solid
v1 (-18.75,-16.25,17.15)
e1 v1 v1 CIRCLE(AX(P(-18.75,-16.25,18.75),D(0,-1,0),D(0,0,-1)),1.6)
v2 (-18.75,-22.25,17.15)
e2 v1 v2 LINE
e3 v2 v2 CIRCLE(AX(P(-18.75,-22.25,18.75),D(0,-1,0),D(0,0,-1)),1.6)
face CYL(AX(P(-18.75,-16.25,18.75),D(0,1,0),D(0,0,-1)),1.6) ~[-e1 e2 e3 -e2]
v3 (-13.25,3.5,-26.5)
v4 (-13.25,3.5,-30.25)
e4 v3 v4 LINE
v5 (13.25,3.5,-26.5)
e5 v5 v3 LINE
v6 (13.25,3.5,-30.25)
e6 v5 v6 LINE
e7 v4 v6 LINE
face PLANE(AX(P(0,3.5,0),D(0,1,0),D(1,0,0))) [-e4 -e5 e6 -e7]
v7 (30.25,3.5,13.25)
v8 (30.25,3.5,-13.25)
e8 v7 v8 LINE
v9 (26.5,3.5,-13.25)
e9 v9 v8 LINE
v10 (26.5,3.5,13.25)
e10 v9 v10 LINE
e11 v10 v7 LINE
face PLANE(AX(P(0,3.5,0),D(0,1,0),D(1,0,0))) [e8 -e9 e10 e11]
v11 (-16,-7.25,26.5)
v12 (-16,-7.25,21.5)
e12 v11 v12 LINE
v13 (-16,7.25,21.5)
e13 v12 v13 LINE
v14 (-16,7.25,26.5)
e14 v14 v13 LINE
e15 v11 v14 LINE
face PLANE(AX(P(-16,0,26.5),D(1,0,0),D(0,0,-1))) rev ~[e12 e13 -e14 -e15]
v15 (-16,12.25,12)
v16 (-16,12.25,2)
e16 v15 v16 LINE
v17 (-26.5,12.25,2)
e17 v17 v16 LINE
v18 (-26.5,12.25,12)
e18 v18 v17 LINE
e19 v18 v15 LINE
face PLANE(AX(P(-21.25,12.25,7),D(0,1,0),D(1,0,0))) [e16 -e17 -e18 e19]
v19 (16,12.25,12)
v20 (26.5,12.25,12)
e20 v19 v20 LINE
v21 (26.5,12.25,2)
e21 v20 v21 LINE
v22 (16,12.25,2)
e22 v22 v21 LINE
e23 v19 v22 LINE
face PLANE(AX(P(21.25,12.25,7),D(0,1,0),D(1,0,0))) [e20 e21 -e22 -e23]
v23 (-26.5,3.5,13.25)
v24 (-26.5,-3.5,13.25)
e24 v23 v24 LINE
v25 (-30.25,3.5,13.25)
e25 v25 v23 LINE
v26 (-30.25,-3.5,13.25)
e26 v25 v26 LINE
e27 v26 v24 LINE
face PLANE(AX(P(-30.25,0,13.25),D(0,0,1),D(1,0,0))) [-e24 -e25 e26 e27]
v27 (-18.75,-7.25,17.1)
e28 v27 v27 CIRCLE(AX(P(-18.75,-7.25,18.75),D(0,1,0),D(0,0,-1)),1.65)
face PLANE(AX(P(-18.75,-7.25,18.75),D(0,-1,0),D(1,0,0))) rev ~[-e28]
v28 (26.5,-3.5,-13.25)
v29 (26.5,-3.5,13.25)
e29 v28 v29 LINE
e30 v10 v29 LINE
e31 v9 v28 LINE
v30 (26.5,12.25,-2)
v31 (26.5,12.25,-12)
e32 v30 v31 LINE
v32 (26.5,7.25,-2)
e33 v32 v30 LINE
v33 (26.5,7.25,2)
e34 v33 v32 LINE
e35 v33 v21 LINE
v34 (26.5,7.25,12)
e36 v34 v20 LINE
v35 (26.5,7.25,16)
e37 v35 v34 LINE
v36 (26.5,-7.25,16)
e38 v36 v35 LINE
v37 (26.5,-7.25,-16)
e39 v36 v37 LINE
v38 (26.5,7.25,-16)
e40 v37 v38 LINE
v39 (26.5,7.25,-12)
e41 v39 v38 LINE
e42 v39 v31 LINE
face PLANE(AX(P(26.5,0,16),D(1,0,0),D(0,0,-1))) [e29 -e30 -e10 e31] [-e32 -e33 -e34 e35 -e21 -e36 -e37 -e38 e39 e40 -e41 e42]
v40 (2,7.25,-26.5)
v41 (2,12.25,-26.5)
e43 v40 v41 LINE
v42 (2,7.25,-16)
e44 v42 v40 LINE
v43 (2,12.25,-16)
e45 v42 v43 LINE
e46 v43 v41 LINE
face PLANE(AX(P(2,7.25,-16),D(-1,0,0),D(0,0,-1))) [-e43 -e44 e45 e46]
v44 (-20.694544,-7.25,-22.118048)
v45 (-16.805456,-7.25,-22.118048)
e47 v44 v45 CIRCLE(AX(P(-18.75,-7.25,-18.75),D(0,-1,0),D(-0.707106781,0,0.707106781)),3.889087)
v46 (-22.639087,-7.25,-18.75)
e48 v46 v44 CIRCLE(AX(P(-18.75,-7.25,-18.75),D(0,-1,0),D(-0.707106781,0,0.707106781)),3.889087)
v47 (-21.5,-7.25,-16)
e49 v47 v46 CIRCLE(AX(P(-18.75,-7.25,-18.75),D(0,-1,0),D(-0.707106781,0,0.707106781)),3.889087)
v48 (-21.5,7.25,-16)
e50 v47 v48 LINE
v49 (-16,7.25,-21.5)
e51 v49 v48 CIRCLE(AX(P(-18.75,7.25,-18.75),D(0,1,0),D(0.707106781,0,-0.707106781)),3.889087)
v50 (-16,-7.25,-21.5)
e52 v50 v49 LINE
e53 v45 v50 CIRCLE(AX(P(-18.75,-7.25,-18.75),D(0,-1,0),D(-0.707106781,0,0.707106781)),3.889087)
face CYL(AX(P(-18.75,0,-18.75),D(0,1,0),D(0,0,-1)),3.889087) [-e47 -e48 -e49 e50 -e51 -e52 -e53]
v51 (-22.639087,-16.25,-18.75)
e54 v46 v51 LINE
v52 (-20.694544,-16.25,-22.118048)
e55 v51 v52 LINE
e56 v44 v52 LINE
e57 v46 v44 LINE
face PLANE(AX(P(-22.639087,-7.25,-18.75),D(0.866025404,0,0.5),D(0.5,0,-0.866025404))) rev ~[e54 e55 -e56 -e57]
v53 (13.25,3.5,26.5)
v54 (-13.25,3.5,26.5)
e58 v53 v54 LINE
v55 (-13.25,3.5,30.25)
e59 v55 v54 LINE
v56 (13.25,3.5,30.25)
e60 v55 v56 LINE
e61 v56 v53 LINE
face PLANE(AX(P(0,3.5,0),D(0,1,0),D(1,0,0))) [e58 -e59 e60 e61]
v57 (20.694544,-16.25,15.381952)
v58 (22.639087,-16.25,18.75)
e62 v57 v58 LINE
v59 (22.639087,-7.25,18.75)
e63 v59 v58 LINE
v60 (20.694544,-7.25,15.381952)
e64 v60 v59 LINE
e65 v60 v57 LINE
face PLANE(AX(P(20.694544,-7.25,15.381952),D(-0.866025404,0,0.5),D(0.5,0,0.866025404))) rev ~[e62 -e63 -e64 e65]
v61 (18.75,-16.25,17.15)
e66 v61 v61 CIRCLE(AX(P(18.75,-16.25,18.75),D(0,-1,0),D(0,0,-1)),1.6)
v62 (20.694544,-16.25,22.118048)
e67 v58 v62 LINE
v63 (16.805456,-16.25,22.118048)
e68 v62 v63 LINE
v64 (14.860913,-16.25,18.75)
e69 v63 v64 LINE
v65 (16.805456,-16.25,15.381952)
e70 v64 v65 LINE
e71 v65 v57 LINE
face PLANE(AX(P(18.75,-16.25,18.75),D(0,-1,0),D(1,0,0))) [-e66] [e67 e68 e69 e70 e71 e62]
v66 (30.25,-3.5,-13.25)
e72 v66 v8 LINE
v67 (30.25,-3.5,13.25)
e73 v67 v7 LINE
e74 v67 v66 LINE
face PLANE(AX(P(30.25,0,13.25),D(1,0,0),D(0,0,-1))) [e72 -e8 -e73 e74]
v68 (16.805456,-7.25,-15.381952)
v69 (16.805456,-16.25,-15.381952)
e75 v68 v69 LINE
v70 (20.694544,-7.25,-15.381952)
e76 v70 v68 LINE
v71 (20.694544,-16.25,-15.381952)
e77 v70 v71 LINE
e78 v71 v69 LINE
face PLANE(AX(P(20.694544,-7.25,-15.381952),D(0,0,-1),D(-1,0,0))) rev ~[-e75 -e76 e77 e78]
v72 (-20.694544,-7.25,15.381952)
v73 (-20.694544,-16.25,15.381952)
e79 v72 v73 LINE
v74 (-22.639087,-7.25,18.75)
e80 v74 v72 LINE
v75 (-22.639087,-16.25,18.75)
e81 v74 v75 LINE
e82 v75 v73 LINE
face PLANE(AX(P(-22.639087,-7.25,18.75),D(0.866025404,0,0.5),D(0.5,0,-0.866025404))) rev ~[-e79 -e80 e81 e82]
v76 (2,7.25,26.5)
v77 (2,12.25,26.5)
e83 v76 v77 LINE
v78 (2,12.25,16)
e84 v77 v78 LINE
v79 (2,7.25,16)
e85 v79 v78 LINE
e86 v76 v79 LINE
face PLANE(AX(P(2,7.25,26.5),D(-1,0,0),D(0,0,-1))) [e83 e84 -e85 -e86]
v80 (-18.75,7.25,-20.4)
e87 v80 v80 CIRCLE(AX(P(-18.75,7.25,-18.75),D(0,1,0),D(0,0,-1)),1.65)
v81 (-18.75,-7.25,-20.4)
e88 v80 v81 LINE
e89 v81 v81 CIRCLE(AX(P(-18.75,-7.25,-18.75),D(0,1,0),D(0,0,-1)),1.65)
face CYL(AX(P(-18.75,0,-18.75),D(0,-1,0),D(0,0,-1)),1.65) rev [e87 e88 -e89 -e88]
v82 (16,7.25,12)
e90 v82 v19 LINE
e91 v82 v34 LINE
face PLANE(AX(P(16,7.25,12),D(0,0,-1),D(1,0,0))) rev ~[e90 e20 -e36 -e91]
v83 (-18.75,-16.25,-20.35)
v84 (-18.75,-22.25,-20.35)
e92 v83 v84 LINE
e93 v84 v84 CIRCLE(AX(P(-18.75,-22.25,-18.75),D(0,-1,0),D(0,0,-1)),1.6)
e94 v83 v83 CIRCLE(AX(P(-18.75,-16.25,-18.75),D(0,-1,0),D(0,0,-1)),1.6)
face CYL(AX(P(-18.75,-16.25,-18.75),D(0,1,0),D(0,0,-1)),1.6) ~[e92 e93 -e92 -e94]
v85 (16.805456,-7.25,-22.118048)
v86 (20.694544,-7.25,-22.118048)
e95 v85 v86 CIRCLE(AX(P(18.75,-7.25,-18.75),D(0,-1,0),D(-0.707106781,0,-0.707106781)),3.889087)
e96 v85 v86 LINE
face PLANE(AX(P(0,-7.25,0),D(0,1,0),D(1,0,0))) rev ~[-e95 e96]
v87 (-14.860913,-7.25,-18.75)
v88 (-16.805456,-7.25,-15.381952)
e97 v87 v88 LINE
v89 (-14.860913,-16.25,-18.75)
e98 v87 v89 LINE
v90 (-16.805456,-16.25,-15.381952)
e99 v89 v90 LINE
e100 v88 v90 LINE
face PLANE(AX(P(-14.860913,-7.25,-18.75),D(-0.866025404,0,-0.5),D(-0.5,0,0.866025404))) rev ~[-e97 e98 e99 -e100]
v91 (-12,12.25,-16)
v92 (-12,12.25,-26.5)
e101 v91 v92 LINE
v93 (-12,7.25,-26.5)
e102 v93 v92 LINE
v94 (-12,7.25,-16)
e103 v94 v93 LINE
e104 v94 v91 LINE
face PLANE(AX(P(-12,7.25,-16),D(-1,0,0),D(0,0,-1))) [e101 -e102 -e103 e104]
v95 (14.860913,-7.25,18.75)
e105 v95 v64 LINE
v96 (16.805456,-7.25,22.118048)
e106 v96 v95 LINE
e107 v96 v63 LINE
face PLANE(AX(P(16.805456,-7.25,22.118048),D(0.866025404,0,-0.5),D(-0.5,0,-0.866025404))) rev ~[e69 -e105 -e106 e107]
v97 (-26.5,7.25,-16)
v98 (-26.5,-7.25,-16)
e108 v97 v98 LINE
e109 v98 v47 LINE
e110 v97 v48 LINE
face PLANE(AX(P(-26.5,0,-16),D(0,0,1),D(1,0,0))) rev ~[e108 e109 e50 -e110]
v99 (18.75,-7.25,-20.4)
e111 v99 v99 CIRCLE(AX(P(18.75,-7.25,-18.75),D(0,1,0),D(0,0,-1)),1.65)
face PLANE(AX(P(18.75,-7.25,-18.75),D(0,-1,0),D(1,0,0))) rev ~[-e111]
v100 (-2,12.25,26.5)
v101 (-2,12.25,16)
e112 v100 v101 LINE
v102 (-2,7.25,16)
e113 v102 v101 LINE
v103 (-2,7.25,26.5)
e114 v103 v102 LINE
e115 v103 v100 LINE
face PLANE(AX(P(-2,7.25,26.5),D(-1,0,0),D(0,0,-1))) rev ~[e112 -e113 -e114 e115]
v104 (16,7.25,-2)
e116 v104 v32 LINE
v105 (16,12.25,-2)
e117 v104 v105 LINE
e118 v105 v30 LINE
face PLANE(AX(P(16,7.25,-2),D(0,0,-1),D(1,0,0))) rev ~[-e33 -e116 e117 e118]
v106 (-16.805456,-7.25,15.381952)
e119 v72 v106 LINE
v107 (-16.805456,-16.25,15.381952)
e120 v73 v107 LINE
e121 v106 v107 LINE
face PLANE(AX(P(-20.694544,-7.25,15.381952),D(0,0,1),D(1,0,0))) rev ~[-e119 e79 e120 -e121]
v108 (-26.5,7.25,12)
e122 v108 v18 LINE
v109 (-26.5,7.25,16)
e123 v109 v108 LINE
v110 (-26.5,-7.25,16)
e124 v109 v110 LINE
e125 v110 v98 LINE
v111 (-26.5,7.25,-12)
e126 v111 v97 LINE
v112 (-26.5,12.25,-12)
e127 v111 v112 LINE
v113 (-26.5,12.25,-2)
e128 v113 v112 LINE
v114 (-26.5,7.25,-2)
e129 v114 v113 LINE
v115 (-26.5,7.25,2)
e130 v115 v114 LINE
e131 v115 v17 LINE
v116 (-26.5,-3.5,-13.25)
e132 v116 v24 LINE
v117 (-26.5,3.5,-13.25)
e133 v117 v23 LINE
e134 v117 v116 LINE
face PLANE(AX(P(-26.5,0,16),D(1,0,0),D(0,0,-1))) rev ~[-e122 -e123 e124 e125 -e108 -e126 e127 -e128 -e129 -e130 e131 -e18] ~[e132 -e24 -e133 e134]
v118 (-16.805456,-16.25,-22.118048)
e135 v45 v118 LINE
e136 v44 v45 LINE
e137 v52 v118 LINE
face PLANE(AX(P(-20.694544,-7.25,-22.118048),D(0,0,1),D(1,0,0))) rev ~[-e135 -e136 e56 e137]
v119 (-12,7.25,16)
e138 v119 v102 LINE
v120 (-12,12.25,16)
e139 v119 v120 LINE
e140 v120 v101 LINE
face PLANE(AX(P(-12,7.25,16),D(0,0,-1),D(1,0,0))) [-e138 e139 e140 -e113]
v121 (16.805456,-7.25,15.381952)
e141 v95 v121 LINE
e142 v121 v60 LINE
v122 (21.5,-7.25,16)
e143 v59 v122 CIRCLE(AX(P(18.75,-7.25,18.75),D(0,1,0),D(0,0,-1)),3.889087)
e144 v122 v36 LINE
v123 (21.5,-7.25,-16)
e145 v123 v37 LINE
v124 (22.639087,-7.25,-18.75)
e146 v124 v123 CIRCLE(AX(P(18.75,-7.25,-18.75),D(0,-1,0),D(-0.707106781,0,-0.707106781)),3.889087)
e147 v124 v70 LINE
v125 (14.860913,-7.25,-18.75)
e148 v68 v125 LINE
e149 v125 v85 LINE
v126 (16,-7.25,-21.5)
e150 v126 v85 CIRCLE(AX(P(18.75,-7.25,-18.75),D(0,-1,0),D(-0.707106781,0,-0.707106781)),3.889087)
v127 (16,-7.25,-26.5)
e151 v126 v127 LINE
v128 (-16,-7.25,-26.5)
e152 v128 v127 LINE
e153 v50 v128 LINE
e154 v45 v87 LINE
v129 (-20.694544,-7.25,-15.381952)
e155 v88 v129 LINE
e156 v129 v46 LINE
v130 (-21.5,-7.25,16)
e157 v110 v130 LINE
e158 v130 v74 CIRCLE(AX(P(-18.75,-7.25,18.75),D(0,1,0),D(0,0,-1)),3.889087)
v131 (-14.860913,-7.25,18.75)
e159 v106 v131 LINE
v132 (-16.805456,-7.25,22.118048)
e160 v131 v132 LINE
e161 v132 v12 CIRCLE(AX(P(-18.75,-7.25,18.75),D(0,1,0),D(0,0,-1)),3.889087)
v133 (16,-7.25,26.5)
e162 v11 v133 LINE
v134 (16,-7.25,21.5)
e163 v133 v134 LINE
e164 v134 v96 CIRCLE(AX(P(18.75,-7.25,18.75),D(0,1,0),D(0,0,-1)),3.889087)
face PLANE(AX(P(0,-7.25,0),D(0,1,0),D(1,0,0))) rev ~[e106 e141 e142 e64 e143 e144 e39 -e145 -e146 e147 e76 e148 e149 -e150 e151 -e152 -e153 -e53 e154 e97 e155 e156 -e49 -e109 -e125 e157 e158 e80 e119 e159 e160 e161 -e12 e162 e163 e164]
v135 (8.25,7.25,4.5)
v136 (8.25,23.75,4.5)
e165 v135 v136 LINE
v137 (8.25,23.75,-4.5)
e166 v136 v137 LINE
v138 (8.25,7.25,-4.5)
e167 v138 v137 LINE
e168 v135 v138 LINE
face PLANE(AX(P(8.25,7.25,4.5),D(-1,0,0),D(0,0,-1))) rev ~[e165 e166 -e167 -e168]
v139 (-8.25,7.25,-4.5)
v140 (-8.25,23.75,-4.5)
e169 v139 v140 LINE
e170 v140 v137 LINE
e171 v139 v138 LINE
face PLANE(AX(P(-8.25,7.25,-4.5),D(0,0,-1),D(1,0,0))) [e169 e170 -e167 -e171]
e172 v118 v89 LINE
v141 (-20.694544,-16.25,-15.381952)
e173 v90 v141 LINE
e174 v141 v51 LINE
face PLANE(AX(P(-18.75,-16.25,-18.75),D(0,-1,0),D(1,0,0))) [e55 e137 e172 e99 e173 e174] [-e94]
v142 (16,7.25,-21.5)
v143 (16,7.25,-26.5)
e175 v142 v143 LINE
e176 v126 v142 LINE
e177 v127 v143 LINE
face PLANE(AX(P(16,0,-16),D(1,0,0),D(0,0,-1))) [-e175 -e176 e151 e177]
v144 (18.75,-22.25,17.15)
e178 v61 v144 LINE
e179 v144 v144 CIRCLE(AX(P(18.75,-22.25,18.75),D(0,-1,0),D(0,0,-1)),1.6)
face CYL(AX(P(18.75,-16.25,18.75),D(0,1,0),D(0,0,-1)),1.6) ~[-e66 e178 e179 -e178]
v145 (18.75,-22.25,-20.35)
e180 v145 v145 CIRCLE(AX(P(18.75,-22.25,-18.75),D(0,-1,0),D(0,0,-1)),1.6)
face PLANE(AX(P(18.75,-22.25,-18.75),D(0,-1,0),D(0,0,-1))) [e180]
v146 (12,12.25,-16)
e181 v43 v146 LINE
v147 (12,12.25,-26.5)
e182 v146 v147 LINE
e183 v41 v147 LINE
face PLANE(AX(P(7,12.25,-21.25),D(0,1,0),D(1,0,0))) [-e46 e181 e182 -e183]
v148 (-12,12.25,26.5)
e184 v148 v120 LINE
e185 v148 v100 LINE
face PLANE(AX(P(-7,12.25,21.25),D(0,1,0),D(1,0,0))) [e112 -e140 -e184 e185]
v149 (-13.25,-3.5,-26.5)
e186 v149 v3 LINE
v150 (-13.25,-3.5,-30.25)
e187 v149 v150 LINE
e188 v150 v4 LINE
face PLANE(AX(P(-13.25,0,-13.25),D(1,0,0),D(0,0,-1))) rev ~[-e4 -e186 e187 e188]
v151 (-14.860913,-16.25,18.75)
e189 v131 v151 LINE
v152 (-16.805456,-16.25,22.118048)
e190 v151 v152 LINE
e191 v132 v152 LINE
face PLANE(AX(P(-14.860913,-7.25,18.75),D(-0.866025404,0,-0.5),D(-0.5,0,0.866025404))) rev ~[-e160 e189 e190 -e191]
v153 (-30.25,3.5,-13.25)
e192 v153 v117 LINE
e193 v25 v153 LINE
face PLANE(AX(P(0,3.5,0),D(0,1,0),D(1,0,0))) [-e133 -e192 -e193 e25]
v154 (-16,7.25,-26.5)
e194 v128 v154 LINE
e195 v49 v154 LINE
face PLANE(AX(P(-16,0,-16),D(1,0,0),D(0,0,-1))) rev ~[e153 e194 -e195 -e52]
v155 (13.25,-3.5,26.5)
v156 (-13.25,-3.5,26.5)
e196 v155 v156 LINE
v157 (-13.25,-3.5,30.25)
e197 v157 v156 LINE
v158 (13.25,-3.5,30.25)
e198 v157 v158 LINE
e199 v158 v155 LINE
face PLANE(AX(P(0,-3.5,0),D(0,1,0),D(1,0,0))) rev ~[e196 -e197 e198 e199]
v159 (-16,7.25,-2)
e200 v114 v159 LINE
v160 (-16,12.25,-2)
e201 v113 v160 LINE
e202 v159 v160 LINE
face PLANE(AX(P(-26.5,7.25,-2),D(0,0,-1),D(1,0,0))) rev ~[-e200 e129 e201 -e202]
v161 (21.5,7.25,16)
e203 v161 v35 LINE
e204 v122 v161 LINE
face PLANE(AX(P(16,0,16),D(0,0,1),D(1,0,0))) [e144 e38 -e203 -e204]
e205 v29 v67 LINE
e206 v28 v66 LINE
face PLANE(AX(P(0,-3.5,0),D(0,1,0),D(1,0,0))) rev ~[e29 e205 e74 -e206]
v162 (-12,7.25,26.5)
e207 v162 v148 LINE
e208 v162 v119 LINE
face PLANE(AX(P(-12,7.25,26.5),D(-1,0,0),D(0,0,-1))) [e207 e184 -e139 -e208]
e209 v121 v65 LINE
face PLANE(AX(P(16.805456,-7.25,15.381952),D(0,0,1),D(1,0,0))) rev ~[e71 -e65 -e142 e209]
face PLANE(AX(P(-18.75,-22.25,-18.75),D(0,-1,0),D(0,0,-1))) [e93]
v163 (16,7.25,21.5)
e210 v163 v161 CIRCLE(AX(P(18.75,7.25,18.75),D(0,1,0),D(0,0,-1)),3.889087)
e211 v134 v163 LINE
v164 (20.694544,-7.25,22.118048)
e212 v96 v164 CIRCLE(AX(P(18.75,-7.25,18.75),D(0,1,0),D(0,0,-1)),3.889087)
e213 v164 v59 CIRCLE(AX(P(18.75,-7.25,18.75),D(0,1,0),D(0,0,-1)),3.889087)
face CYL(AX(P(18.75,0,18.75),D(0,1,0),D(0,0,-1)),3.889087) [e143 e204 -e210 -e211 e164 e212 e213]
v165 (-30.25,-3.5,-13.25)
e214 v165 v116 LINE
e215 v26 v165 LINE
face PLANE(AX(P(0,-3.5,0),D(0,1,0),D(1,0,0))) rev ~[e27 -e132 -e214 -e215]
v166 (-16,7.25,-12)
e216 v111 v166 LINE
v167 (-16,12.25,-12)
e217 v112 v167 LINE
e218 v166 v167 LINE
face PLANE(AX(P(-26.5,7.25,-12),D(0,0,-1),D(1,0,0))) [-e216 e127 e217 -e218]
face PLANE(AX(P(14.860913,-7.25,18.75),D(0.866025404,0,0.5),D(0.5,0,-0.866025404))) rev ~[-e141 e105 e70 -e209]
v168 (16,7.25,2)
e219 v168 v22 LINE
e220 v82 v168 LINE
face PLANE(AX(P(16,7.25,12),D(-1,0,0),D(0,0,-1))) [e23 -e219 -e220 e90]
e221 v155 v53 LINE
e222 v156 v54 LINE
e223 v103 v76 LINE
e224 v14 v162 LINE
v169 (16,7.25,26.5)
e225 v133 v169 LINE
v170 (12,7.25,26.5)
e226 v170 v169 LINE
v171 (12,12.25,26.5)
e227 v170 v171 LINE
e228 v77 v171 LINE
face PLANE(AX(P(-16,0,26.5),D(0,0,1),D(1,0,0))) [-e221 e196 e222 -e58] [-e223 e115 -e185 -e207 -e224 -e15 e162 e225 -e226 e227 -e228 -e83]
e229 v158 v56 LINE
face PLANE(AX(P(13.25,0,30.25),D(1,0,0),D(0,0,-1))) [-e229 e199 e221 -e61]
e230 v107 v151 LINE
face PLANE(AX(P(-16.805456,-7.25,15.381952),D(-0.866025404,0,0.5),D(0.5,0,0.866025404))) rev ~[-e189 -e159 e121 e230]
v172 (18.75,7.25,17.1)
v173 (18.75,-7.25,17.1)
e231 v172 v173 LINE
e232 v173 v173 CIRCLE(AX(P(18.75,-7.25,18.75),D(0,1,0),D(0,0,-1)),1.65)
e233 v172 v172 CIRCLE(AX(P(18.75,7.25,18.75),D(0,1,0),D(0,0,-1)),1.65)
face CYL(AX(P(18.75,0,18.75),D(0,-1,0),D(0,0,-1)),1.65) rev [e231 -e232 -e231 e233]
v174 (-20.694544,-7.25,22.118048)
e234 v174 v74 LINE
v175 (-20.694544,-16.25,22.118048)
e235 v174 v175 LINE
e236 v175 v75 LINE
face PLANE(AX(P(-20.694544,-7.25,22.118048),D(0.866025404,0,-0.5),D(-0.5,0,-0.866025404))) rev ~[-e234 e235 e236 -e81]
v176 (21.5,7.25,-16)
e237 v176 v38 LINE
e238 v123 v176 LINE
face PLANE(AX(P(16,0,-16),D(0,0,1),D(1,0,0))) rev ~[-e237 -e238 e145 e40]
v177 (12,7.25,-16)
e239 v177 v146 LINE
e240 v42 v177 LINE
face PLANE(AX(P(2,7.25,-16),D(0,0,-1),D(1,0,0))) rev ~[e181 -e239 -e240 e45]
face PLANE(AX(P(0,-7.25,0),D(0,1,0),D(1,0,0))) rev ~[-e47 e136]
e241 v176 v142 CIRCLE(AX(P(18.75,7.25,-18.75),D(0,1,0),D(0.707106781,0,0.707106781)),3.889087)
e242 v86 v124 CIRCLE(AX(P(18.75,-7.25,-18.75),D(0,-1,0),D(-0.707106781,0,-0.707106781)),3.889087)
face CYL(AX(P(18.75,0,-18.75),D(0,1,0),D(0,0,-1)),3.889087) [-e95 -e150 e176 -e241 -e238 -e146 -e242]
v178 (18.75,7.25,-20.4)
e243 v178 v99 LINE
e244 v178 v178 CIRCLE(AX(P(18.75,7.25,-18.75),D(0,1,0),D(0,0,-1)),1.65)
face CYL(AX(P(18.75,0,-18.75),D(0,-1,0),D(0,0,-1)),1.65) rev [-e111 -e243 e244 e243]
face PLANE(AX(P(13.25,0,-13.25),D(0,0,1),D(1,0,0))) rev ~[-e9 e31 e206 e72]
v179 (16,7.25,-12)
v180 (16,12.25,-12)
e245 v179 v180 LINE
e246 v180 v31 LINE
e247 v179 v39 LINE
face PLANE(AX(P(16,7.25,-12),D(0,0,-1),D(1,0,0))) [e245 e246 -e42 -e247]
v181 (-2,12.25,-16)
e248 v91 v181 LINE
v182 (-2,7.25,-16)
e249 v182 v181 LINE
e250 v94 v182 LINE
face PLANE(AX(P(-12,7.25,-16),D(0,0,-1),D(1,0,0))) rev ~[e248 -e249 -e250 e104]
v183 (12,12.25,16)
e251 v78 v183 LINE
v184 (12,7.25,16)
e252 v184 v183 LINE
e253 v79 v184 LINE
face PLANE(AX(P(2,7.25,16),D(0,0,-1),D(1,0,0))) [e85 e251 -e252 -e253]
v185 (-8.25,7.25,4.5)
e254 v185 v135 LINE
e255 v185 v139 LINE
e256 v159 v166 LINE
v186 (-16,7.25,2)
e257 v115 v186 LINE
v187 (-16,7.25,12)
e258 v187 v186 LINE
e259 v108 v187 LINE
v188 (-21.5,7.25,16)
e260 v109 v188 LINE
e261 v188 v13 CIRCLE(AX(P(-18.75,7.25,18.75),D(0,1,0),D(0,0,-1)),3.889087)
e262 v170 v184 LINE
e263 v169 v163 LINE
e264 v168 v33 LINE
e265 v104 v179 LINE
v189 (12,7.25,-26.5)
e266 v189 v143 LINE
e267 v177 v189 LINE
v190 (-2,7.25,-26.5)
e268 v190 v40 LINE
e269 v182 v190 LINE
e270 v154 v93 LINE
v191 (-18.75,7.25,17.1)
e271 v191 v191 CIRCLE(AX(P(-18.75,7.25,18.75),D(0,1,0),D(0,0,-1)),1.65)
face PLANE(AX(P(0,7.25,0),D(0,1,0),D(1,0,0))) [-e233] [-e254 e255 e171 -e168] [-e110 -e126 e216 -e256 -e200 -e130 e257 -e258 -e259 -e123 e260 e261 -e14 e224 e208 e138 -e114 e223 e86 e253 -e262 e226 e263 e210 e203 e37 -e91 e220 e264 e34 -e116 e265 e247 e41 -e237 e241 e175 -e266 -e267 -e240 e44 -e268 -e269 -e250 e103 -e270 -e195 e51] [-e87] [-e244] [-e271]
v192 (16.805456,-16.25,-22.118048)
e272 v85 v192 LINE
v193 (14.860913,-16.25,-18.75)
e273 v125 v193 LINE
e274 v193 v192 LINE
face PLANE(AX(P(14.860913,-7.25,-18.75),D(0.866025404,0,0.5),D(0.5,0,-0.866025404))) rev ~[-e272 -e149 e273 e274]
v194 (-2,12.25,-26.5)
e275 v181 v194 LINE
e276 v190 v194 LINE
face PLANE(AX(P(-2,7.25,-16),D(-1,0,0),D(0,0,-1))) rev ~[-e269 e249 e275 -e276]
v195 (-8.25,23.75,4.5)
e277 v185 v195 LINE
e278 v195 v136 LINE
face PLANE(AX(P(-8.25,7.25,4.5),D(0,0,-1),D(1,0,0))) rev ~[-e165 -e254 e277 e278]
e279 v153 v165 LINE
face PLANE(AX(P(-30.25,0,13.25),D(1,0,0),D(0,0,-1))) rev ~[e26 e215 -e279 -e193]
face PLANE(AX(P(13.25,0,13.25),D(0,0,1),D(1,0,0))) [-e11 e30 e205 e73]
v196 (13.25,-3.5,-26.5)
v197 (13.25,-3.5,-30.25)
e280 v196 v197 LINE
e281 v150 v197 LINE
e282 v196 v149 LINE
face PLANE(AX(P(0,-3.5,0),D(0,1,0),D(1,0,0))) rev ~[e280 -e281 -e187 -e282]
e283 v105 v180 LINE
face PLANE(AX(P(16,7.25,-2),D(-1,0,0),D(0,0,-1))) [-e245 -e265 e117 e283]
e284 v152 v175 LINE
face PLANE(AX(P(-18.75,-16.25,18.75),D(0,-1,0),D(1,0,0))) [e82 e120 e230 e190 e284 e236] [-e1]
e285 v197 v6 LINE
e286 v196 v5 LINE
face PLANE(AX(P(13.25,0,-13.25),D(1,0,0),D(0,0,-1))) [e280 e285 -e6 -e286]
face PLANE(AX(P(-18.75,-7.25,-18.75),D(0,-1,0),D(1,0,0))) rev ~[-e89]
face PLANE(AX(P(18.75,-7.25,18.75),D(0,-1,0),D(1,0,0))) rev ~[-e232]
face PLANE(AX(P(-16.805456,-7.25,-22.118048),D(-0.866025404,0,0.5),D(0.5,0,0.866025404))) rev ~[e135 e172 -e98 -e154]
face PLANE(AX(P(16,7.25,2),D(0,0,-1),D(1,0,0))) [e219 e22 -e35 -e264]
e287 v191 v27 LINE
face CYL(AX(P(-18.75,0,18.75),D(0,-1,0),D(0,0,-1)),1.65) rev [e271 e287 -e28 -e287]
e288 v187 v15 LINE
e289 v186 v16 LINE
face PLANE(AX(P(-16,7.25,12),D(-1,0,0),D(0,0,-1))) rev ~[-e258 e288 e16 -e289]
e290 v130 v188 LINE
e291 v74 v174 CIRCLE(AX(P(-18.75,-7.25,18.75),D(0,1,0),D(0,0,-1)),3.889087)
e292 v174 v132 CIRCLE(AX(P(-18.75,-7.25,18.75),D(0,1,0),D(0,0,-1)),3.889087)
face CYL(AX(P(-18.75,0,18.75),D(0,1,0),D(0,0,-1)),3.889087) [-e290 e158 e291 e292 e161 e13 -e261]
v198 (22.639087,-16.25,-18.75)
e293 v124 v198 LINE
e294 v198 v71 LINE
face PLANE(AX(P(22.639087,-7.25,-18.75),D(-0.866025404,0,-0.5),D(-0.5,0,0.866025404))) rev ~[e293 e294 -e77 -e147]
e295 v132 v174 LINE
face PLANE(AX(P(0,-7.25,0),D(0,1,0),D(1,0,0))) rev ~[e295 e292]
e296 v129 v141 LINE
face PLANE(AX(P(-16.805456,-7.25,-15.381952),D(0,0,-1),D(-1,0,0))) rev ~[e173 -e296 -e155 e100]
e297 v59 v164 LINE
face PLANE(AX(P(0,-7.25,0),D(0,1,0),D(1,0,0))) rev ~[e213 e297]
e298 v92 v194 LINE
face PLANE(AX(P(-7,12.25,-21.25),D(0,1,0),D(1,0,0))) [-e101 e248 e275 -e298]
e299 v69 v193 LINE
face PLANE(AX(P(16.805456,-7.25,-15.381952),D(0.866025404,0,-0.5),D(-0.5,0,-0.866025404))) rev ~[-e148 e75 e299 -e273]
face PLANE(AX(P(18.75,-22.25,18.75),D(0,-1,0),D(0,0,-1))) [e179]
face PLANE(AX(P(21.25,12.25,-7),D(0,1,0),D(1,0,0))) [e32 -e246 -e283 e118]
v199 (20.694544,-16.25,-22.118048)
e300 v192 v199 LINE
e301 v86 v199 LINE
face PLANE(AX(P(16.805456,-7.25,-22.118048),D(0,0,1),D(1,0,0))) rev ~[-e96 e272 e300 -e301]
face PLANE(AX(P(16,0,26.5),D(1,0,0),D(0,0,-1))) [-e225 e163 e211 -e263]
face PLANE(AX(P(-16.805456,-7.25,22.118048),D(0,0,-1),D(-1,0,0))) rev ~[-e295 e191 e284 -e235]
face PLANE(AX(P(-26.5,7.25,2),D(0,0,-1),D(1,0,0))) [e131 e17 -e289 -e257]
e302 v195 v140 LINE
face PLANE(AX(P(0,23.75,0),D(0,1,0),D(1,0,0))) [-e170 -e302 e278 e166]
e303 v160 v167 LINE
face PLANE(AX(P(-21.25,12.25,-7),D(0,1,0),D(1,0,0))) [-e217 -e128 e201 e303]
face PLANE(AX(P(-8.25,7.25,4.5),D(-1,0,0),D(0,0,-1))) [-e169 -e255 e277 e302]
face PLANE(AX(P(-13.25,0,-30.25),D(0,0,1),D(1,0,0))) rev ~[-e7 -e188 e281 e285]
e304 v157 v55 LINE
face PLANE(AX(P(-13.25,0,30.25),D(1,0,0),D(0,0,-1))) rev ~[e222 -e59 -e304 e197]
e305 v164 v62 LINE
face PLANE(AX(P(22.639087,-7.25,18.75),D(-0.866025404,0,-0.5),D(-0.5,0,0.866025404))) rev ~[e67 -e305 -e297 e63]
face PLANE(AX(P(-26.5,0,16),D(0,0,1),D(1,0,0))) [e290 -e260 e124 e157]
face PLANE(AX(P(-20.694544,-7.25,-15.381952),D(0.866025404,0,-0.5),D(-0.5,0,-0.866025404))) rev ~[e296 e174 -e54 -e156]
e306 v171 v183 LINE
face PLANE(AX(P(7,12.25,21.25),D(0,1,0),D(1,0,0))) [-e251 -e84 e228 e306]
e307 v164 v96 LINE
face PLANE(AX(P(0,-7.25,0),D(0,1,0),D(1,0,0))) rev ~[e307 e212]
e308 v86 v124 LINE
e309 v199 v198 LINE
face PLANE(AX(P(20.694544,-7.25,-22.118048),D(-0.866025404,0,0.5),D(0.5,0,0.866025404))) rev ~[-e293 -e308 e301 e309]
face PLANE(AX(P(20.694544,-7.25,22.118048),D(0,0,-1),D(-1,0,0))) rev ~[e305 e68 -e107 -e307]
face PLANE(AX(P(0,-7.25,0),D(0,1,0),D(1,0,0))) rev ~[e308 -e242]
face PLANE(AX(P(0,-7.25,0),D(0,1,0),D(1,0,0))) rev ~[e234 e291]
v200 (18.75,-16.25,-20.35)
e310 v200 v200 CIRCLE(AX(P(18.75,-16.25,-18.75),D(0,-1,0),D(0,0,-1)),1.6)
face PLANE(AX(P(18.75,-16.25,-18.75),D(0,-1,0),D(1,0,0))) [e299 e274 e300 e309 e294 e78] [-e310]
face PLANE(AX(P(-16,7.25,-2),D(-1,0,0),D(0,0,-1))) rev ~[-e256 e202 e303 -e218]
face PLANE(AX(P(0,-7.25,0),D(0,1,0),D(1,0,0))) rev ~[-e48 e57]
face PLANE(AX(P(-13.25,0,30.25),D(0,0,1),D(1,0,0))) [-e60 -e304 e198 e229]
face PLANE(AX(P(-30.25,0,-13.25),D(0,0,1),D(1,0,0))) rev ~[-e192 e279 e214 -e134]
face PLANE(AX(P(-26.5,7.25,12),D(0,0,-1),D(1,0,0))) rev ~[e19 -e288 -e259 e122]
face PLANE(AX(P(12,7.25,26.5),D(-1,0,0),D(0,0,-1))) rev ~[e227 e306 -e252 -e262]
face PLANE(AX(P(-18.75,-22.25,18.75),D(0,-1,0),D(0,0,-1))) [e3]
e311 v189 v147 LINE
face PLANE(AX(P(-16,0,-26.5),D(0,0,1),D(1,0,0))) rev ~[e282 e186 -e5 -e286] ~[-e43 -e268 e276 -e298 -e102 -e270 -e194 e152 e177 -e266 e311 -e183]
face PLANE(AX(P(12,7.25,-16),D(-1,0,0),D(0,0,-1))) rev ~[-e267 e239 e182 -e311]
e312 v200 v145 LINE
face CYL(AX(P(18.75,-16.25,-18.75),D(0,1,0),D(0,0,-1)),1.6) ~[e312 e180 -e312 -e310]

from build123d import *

# Parameters (mm, degrees)
SKETCH_1_R        = 3.889087297
SKETCH_1_R_2      = 1.65
EXTRUDE_2_DEPTH   = 7.25
EXTRUDE_2_2_DEPTH = 7.25
EXTRUDE_2_3_DEPTH = 7.25
EXTRUDE_2_4_DEPTH = 7.25
SKETCH_2_W        = 32
SKETCH_2_H        = 53
SKETCH_2_W_2      = 53
SKETCH_2_H_2      = 32
EXTRUDE_3_DEPTH   = 7.25
SKETCH_3_W        = 26.5
SKETCH_3_H        = 60.5
SKETCH_3_W_2      = 60.5
SKETCH_3_H_2      = 26.5
EXTRUDE_4_DEPTH   = 3.5
SKETCH_4_W        = 16.5
SKETCH_4_H        = 9
EXTRUDE_5_DEPTH   = 16.5
SKETCH_5_W        = 10.5
SKETCH_5_H        = 10
SKETCH_5_W_2      = 10
SKETCH_5_H_2      = 10.5
EXTRUDE_6_DEPTH   = 5
EXTRUDE_7_DEPTH   = 9
SKETCH_7_R        = 1.6
EXTRUDE_8_DEPTH   = 6


with BuildPart() as part:
    # 草图1 → 凸台-拉伸2 (new, symmetric)
    with BuildSketch(Plane(origin=(0, 0, 0), x_dir=(1, 0, 0), z_dir=(0, 1, 0))):
        with Locations(Location((-18.75, 18.75, 0), (0, 0, 90))):
            Circle(SKETCH_1_R)
        with Locations(Location((-18.75, 18.75, 0), (0, 0, 90))):
            Circle(SKETCH_1_R_2, mode=Mode.SUBTRACT)
    extrude(amount=EXTRUDE_2_DEPTH, both=True)



with BuildPart() as body_2:
    # 草图1 → Extrude 2 2 (new, symmetric)
    with BuildSketch(Plane(origin=(0, 0, 0), x_dir=(1, 0, 0), z_dir=(0, 1, 0))):
        with Locations(Location((18.75, 18.75, 0), (0, 0, 90))):
            Circle(SKETCH_1_R)
        with Locations(Location((18.75, 18.75, 0), (0, 0, 90))):
            Circle(SKETCH_1_R_2, mode=Mode.SUBTRACT)
    extrude(amount=EXTRUDE_2_2_DEPTH, both=True)


with BuildPart() as body_3:
    # 草图1 → Extrude 2 3 (new, symmetric)
    with BuildSketch(Plane(origin=(0, 0, 0), x_dir=(1, 0, 0), z_dir=(0, 1, 0))):
        with Locations(Location((18.75, -18.75, 0), (0, 0, 90))):
            Circle(SKETCH_1_R)
        with Locations(Location((18.75, -18.75, 0), (0, 0, 90))):
            Circle(SKETCH_1_R_2, mode=Mode.SUBTRACT)
    extrude(amount=EXTRUDE_2_3_DEPTH, both=True)


with BuildPart() as body_4:
    # 草图1 → Extrude 2 4 (new, symmetric)
    with BuildSketch(Plane(origin=(0, 0, 0), x_dir=(1, 0, 0), z_dir=(0, 1, 0))):
        with Locations(Location((-18.75, -18.75, 0), (0, 0, 90))):
            Circle(SKETCH_1_R)
        with Locations(Location((-18.75, -18.75, 0), (0, 0, 90))):
            Circle(SKETCH_1_R_2, mode=Mode.SUBTRACT)
    extrude(amount=EXTRUDE_2_4_DEPTH, both=True)


with BuildPart() as part_1:
    add(part.part)

    add(body_2.part)  # 凸台-拉伸3 merges body 2

    add(body_3.part)  # 凸台-拉伸3 merges body 3

    add(body_4.part)  # 凸台-拉伸3 merges body 4
    # 草图2 → 凸台-拉伸3 (add, symmetric)
    with BuildSketch(Plane(origin=(0, 0, 0), x_dir=(1, 0, 0), z_dir=(0, 1, 0))):
        Rectangle(SKETCH_2_W, SKETCH_2_H)
        Rectangle(SKETCH_2_W_2, SKETCH_2_H_2)
    extrude(amount=EXTRUDE_3_DEPTH, both=True)

    # 草图3 → 凸台-拉伸4 (add, symmetric)
    with BuildSketch(Plane(origin=(0, 0, 0), x_dir=(1, 0, 0), z_dir=(0, 1, 0))):
        Rectangle(SKETCH_3_W, SKETCH_3_H)
        Rectangle(SKETCH_3_W_2, SKETCH_3_H_2)
    extrude(amount=EXTRUDE_4_DEPTH, both=True)

    # 草图4 → 凸台-拉伸5 (add)
    with BuildSketch(Plane(origin=(0, 7.25, 0), x_dir=(1, 0, 0), z_dir=(0, 1, 0))):
        Rectangle(SKETCH_4_W, SKETCH_4_H)
    extrude(amount=EXTRUDE_5_DEPTH)

    # 草图5 → 凸台-拉伸6 (add)
    with BuildSketch(Plane(origin=(0, 7.25, 0), x_dir=(1, 0, 0), z_dir=(0, 1, 0))):
        with Locations((-21.25, 7)):
            Rectangle(SKETCH_5_W, SKETCH_5_H)
        with Locations((-21.25, -7)):
            Rectangle(SKETCH_5_W, SKETCH_5_H)
        with Locations((7, 21.25)):
            Rectangle(SKETCH_5_W_2, SKETCH_5_H_2)
        with Locations((-7, 21.25)):
            Rectangle(SKETCH_5_W_2, SKETCH_5_H_2)
        with Locations((21.25, -7)):
            Rectangle(SKETCH_5_W, SKETCH_5_H)
        with Locations((21.25, 7)):
            Rectangle(SKETCH_5_W, SKETCH_5_H)
        with Locations((-7, -21.25)):
            Rectangle(SKETCH_5_W_2, SKETCH_5_H_2)
        with Locations((7, -21.25)):
            Rectangle(SKETCH_5_W_2, SKETCH_5_H_2)
    extrude(amount=EXTRUDE_6_DEPTH)

    # 草图6 → 凸台-拉伸7 (add)
    with BuildSketch(Plane.XZ.offset(7.25)):
        Polygon((-14.860912703, 18.75), (-16.805456352, 22.118048396), (-20.694543648, 22.118048396), (-22.639087297, 18.75), (-20.694543648, 15.381951604), (-16.805456352, 15.381951604), align=None)
        Polygon((22.639087297, 18.75), (20.694543648, 22.118048396), (16.805456352, 22.118048396), (14.860912703, 18.75), (16.805456352, 15.381951604), (20.694543648, 15.381951604), align=None)
        Polygon((22.639087297, -18.75), (20.694543648, -15.381951604), (16.805456352, -15.381951604), (14.860912703, -18.75), (16.805456352, -22.118048396), (20.694543648, -22.118048396), align=None)
        Polygon((-14.860912703, -18.75), (-16.805456352, -15.381951604), (-20.694543648, -15.381951604), (-22.639087297, -18.75), (-20.694543648, -22.118048396), (-16.805456352, -22.118048396), align=None)
    extrude(amount=EXTRUDE_7_DEPTH)

    # 草图7 → 凸台-拉伸8 (add)
    with BuildSketch(Plane.XZ.offset(16.25)):
        with Locations(Location((-18.75, 18.75, 0), (0, 0, 270))):
            Circle(SKETCH_7_R)
        with Locations(Location((18.75, 18.75, 0), (0, 0, 270))):
            Circle(SKETCH_7_R)
        with Locations(Location((18.75, -18.75, 0), (0, 0, 270))):
            Circle(SKETCH_7_R)
        with Locations(Location((-18.75, -18.75, 0), (0, 0, 270))):
            Circle(SKETCH_7_R)
    extrude(amount=EXTRUDE_8_DEPTH)


solid = part_1.part
